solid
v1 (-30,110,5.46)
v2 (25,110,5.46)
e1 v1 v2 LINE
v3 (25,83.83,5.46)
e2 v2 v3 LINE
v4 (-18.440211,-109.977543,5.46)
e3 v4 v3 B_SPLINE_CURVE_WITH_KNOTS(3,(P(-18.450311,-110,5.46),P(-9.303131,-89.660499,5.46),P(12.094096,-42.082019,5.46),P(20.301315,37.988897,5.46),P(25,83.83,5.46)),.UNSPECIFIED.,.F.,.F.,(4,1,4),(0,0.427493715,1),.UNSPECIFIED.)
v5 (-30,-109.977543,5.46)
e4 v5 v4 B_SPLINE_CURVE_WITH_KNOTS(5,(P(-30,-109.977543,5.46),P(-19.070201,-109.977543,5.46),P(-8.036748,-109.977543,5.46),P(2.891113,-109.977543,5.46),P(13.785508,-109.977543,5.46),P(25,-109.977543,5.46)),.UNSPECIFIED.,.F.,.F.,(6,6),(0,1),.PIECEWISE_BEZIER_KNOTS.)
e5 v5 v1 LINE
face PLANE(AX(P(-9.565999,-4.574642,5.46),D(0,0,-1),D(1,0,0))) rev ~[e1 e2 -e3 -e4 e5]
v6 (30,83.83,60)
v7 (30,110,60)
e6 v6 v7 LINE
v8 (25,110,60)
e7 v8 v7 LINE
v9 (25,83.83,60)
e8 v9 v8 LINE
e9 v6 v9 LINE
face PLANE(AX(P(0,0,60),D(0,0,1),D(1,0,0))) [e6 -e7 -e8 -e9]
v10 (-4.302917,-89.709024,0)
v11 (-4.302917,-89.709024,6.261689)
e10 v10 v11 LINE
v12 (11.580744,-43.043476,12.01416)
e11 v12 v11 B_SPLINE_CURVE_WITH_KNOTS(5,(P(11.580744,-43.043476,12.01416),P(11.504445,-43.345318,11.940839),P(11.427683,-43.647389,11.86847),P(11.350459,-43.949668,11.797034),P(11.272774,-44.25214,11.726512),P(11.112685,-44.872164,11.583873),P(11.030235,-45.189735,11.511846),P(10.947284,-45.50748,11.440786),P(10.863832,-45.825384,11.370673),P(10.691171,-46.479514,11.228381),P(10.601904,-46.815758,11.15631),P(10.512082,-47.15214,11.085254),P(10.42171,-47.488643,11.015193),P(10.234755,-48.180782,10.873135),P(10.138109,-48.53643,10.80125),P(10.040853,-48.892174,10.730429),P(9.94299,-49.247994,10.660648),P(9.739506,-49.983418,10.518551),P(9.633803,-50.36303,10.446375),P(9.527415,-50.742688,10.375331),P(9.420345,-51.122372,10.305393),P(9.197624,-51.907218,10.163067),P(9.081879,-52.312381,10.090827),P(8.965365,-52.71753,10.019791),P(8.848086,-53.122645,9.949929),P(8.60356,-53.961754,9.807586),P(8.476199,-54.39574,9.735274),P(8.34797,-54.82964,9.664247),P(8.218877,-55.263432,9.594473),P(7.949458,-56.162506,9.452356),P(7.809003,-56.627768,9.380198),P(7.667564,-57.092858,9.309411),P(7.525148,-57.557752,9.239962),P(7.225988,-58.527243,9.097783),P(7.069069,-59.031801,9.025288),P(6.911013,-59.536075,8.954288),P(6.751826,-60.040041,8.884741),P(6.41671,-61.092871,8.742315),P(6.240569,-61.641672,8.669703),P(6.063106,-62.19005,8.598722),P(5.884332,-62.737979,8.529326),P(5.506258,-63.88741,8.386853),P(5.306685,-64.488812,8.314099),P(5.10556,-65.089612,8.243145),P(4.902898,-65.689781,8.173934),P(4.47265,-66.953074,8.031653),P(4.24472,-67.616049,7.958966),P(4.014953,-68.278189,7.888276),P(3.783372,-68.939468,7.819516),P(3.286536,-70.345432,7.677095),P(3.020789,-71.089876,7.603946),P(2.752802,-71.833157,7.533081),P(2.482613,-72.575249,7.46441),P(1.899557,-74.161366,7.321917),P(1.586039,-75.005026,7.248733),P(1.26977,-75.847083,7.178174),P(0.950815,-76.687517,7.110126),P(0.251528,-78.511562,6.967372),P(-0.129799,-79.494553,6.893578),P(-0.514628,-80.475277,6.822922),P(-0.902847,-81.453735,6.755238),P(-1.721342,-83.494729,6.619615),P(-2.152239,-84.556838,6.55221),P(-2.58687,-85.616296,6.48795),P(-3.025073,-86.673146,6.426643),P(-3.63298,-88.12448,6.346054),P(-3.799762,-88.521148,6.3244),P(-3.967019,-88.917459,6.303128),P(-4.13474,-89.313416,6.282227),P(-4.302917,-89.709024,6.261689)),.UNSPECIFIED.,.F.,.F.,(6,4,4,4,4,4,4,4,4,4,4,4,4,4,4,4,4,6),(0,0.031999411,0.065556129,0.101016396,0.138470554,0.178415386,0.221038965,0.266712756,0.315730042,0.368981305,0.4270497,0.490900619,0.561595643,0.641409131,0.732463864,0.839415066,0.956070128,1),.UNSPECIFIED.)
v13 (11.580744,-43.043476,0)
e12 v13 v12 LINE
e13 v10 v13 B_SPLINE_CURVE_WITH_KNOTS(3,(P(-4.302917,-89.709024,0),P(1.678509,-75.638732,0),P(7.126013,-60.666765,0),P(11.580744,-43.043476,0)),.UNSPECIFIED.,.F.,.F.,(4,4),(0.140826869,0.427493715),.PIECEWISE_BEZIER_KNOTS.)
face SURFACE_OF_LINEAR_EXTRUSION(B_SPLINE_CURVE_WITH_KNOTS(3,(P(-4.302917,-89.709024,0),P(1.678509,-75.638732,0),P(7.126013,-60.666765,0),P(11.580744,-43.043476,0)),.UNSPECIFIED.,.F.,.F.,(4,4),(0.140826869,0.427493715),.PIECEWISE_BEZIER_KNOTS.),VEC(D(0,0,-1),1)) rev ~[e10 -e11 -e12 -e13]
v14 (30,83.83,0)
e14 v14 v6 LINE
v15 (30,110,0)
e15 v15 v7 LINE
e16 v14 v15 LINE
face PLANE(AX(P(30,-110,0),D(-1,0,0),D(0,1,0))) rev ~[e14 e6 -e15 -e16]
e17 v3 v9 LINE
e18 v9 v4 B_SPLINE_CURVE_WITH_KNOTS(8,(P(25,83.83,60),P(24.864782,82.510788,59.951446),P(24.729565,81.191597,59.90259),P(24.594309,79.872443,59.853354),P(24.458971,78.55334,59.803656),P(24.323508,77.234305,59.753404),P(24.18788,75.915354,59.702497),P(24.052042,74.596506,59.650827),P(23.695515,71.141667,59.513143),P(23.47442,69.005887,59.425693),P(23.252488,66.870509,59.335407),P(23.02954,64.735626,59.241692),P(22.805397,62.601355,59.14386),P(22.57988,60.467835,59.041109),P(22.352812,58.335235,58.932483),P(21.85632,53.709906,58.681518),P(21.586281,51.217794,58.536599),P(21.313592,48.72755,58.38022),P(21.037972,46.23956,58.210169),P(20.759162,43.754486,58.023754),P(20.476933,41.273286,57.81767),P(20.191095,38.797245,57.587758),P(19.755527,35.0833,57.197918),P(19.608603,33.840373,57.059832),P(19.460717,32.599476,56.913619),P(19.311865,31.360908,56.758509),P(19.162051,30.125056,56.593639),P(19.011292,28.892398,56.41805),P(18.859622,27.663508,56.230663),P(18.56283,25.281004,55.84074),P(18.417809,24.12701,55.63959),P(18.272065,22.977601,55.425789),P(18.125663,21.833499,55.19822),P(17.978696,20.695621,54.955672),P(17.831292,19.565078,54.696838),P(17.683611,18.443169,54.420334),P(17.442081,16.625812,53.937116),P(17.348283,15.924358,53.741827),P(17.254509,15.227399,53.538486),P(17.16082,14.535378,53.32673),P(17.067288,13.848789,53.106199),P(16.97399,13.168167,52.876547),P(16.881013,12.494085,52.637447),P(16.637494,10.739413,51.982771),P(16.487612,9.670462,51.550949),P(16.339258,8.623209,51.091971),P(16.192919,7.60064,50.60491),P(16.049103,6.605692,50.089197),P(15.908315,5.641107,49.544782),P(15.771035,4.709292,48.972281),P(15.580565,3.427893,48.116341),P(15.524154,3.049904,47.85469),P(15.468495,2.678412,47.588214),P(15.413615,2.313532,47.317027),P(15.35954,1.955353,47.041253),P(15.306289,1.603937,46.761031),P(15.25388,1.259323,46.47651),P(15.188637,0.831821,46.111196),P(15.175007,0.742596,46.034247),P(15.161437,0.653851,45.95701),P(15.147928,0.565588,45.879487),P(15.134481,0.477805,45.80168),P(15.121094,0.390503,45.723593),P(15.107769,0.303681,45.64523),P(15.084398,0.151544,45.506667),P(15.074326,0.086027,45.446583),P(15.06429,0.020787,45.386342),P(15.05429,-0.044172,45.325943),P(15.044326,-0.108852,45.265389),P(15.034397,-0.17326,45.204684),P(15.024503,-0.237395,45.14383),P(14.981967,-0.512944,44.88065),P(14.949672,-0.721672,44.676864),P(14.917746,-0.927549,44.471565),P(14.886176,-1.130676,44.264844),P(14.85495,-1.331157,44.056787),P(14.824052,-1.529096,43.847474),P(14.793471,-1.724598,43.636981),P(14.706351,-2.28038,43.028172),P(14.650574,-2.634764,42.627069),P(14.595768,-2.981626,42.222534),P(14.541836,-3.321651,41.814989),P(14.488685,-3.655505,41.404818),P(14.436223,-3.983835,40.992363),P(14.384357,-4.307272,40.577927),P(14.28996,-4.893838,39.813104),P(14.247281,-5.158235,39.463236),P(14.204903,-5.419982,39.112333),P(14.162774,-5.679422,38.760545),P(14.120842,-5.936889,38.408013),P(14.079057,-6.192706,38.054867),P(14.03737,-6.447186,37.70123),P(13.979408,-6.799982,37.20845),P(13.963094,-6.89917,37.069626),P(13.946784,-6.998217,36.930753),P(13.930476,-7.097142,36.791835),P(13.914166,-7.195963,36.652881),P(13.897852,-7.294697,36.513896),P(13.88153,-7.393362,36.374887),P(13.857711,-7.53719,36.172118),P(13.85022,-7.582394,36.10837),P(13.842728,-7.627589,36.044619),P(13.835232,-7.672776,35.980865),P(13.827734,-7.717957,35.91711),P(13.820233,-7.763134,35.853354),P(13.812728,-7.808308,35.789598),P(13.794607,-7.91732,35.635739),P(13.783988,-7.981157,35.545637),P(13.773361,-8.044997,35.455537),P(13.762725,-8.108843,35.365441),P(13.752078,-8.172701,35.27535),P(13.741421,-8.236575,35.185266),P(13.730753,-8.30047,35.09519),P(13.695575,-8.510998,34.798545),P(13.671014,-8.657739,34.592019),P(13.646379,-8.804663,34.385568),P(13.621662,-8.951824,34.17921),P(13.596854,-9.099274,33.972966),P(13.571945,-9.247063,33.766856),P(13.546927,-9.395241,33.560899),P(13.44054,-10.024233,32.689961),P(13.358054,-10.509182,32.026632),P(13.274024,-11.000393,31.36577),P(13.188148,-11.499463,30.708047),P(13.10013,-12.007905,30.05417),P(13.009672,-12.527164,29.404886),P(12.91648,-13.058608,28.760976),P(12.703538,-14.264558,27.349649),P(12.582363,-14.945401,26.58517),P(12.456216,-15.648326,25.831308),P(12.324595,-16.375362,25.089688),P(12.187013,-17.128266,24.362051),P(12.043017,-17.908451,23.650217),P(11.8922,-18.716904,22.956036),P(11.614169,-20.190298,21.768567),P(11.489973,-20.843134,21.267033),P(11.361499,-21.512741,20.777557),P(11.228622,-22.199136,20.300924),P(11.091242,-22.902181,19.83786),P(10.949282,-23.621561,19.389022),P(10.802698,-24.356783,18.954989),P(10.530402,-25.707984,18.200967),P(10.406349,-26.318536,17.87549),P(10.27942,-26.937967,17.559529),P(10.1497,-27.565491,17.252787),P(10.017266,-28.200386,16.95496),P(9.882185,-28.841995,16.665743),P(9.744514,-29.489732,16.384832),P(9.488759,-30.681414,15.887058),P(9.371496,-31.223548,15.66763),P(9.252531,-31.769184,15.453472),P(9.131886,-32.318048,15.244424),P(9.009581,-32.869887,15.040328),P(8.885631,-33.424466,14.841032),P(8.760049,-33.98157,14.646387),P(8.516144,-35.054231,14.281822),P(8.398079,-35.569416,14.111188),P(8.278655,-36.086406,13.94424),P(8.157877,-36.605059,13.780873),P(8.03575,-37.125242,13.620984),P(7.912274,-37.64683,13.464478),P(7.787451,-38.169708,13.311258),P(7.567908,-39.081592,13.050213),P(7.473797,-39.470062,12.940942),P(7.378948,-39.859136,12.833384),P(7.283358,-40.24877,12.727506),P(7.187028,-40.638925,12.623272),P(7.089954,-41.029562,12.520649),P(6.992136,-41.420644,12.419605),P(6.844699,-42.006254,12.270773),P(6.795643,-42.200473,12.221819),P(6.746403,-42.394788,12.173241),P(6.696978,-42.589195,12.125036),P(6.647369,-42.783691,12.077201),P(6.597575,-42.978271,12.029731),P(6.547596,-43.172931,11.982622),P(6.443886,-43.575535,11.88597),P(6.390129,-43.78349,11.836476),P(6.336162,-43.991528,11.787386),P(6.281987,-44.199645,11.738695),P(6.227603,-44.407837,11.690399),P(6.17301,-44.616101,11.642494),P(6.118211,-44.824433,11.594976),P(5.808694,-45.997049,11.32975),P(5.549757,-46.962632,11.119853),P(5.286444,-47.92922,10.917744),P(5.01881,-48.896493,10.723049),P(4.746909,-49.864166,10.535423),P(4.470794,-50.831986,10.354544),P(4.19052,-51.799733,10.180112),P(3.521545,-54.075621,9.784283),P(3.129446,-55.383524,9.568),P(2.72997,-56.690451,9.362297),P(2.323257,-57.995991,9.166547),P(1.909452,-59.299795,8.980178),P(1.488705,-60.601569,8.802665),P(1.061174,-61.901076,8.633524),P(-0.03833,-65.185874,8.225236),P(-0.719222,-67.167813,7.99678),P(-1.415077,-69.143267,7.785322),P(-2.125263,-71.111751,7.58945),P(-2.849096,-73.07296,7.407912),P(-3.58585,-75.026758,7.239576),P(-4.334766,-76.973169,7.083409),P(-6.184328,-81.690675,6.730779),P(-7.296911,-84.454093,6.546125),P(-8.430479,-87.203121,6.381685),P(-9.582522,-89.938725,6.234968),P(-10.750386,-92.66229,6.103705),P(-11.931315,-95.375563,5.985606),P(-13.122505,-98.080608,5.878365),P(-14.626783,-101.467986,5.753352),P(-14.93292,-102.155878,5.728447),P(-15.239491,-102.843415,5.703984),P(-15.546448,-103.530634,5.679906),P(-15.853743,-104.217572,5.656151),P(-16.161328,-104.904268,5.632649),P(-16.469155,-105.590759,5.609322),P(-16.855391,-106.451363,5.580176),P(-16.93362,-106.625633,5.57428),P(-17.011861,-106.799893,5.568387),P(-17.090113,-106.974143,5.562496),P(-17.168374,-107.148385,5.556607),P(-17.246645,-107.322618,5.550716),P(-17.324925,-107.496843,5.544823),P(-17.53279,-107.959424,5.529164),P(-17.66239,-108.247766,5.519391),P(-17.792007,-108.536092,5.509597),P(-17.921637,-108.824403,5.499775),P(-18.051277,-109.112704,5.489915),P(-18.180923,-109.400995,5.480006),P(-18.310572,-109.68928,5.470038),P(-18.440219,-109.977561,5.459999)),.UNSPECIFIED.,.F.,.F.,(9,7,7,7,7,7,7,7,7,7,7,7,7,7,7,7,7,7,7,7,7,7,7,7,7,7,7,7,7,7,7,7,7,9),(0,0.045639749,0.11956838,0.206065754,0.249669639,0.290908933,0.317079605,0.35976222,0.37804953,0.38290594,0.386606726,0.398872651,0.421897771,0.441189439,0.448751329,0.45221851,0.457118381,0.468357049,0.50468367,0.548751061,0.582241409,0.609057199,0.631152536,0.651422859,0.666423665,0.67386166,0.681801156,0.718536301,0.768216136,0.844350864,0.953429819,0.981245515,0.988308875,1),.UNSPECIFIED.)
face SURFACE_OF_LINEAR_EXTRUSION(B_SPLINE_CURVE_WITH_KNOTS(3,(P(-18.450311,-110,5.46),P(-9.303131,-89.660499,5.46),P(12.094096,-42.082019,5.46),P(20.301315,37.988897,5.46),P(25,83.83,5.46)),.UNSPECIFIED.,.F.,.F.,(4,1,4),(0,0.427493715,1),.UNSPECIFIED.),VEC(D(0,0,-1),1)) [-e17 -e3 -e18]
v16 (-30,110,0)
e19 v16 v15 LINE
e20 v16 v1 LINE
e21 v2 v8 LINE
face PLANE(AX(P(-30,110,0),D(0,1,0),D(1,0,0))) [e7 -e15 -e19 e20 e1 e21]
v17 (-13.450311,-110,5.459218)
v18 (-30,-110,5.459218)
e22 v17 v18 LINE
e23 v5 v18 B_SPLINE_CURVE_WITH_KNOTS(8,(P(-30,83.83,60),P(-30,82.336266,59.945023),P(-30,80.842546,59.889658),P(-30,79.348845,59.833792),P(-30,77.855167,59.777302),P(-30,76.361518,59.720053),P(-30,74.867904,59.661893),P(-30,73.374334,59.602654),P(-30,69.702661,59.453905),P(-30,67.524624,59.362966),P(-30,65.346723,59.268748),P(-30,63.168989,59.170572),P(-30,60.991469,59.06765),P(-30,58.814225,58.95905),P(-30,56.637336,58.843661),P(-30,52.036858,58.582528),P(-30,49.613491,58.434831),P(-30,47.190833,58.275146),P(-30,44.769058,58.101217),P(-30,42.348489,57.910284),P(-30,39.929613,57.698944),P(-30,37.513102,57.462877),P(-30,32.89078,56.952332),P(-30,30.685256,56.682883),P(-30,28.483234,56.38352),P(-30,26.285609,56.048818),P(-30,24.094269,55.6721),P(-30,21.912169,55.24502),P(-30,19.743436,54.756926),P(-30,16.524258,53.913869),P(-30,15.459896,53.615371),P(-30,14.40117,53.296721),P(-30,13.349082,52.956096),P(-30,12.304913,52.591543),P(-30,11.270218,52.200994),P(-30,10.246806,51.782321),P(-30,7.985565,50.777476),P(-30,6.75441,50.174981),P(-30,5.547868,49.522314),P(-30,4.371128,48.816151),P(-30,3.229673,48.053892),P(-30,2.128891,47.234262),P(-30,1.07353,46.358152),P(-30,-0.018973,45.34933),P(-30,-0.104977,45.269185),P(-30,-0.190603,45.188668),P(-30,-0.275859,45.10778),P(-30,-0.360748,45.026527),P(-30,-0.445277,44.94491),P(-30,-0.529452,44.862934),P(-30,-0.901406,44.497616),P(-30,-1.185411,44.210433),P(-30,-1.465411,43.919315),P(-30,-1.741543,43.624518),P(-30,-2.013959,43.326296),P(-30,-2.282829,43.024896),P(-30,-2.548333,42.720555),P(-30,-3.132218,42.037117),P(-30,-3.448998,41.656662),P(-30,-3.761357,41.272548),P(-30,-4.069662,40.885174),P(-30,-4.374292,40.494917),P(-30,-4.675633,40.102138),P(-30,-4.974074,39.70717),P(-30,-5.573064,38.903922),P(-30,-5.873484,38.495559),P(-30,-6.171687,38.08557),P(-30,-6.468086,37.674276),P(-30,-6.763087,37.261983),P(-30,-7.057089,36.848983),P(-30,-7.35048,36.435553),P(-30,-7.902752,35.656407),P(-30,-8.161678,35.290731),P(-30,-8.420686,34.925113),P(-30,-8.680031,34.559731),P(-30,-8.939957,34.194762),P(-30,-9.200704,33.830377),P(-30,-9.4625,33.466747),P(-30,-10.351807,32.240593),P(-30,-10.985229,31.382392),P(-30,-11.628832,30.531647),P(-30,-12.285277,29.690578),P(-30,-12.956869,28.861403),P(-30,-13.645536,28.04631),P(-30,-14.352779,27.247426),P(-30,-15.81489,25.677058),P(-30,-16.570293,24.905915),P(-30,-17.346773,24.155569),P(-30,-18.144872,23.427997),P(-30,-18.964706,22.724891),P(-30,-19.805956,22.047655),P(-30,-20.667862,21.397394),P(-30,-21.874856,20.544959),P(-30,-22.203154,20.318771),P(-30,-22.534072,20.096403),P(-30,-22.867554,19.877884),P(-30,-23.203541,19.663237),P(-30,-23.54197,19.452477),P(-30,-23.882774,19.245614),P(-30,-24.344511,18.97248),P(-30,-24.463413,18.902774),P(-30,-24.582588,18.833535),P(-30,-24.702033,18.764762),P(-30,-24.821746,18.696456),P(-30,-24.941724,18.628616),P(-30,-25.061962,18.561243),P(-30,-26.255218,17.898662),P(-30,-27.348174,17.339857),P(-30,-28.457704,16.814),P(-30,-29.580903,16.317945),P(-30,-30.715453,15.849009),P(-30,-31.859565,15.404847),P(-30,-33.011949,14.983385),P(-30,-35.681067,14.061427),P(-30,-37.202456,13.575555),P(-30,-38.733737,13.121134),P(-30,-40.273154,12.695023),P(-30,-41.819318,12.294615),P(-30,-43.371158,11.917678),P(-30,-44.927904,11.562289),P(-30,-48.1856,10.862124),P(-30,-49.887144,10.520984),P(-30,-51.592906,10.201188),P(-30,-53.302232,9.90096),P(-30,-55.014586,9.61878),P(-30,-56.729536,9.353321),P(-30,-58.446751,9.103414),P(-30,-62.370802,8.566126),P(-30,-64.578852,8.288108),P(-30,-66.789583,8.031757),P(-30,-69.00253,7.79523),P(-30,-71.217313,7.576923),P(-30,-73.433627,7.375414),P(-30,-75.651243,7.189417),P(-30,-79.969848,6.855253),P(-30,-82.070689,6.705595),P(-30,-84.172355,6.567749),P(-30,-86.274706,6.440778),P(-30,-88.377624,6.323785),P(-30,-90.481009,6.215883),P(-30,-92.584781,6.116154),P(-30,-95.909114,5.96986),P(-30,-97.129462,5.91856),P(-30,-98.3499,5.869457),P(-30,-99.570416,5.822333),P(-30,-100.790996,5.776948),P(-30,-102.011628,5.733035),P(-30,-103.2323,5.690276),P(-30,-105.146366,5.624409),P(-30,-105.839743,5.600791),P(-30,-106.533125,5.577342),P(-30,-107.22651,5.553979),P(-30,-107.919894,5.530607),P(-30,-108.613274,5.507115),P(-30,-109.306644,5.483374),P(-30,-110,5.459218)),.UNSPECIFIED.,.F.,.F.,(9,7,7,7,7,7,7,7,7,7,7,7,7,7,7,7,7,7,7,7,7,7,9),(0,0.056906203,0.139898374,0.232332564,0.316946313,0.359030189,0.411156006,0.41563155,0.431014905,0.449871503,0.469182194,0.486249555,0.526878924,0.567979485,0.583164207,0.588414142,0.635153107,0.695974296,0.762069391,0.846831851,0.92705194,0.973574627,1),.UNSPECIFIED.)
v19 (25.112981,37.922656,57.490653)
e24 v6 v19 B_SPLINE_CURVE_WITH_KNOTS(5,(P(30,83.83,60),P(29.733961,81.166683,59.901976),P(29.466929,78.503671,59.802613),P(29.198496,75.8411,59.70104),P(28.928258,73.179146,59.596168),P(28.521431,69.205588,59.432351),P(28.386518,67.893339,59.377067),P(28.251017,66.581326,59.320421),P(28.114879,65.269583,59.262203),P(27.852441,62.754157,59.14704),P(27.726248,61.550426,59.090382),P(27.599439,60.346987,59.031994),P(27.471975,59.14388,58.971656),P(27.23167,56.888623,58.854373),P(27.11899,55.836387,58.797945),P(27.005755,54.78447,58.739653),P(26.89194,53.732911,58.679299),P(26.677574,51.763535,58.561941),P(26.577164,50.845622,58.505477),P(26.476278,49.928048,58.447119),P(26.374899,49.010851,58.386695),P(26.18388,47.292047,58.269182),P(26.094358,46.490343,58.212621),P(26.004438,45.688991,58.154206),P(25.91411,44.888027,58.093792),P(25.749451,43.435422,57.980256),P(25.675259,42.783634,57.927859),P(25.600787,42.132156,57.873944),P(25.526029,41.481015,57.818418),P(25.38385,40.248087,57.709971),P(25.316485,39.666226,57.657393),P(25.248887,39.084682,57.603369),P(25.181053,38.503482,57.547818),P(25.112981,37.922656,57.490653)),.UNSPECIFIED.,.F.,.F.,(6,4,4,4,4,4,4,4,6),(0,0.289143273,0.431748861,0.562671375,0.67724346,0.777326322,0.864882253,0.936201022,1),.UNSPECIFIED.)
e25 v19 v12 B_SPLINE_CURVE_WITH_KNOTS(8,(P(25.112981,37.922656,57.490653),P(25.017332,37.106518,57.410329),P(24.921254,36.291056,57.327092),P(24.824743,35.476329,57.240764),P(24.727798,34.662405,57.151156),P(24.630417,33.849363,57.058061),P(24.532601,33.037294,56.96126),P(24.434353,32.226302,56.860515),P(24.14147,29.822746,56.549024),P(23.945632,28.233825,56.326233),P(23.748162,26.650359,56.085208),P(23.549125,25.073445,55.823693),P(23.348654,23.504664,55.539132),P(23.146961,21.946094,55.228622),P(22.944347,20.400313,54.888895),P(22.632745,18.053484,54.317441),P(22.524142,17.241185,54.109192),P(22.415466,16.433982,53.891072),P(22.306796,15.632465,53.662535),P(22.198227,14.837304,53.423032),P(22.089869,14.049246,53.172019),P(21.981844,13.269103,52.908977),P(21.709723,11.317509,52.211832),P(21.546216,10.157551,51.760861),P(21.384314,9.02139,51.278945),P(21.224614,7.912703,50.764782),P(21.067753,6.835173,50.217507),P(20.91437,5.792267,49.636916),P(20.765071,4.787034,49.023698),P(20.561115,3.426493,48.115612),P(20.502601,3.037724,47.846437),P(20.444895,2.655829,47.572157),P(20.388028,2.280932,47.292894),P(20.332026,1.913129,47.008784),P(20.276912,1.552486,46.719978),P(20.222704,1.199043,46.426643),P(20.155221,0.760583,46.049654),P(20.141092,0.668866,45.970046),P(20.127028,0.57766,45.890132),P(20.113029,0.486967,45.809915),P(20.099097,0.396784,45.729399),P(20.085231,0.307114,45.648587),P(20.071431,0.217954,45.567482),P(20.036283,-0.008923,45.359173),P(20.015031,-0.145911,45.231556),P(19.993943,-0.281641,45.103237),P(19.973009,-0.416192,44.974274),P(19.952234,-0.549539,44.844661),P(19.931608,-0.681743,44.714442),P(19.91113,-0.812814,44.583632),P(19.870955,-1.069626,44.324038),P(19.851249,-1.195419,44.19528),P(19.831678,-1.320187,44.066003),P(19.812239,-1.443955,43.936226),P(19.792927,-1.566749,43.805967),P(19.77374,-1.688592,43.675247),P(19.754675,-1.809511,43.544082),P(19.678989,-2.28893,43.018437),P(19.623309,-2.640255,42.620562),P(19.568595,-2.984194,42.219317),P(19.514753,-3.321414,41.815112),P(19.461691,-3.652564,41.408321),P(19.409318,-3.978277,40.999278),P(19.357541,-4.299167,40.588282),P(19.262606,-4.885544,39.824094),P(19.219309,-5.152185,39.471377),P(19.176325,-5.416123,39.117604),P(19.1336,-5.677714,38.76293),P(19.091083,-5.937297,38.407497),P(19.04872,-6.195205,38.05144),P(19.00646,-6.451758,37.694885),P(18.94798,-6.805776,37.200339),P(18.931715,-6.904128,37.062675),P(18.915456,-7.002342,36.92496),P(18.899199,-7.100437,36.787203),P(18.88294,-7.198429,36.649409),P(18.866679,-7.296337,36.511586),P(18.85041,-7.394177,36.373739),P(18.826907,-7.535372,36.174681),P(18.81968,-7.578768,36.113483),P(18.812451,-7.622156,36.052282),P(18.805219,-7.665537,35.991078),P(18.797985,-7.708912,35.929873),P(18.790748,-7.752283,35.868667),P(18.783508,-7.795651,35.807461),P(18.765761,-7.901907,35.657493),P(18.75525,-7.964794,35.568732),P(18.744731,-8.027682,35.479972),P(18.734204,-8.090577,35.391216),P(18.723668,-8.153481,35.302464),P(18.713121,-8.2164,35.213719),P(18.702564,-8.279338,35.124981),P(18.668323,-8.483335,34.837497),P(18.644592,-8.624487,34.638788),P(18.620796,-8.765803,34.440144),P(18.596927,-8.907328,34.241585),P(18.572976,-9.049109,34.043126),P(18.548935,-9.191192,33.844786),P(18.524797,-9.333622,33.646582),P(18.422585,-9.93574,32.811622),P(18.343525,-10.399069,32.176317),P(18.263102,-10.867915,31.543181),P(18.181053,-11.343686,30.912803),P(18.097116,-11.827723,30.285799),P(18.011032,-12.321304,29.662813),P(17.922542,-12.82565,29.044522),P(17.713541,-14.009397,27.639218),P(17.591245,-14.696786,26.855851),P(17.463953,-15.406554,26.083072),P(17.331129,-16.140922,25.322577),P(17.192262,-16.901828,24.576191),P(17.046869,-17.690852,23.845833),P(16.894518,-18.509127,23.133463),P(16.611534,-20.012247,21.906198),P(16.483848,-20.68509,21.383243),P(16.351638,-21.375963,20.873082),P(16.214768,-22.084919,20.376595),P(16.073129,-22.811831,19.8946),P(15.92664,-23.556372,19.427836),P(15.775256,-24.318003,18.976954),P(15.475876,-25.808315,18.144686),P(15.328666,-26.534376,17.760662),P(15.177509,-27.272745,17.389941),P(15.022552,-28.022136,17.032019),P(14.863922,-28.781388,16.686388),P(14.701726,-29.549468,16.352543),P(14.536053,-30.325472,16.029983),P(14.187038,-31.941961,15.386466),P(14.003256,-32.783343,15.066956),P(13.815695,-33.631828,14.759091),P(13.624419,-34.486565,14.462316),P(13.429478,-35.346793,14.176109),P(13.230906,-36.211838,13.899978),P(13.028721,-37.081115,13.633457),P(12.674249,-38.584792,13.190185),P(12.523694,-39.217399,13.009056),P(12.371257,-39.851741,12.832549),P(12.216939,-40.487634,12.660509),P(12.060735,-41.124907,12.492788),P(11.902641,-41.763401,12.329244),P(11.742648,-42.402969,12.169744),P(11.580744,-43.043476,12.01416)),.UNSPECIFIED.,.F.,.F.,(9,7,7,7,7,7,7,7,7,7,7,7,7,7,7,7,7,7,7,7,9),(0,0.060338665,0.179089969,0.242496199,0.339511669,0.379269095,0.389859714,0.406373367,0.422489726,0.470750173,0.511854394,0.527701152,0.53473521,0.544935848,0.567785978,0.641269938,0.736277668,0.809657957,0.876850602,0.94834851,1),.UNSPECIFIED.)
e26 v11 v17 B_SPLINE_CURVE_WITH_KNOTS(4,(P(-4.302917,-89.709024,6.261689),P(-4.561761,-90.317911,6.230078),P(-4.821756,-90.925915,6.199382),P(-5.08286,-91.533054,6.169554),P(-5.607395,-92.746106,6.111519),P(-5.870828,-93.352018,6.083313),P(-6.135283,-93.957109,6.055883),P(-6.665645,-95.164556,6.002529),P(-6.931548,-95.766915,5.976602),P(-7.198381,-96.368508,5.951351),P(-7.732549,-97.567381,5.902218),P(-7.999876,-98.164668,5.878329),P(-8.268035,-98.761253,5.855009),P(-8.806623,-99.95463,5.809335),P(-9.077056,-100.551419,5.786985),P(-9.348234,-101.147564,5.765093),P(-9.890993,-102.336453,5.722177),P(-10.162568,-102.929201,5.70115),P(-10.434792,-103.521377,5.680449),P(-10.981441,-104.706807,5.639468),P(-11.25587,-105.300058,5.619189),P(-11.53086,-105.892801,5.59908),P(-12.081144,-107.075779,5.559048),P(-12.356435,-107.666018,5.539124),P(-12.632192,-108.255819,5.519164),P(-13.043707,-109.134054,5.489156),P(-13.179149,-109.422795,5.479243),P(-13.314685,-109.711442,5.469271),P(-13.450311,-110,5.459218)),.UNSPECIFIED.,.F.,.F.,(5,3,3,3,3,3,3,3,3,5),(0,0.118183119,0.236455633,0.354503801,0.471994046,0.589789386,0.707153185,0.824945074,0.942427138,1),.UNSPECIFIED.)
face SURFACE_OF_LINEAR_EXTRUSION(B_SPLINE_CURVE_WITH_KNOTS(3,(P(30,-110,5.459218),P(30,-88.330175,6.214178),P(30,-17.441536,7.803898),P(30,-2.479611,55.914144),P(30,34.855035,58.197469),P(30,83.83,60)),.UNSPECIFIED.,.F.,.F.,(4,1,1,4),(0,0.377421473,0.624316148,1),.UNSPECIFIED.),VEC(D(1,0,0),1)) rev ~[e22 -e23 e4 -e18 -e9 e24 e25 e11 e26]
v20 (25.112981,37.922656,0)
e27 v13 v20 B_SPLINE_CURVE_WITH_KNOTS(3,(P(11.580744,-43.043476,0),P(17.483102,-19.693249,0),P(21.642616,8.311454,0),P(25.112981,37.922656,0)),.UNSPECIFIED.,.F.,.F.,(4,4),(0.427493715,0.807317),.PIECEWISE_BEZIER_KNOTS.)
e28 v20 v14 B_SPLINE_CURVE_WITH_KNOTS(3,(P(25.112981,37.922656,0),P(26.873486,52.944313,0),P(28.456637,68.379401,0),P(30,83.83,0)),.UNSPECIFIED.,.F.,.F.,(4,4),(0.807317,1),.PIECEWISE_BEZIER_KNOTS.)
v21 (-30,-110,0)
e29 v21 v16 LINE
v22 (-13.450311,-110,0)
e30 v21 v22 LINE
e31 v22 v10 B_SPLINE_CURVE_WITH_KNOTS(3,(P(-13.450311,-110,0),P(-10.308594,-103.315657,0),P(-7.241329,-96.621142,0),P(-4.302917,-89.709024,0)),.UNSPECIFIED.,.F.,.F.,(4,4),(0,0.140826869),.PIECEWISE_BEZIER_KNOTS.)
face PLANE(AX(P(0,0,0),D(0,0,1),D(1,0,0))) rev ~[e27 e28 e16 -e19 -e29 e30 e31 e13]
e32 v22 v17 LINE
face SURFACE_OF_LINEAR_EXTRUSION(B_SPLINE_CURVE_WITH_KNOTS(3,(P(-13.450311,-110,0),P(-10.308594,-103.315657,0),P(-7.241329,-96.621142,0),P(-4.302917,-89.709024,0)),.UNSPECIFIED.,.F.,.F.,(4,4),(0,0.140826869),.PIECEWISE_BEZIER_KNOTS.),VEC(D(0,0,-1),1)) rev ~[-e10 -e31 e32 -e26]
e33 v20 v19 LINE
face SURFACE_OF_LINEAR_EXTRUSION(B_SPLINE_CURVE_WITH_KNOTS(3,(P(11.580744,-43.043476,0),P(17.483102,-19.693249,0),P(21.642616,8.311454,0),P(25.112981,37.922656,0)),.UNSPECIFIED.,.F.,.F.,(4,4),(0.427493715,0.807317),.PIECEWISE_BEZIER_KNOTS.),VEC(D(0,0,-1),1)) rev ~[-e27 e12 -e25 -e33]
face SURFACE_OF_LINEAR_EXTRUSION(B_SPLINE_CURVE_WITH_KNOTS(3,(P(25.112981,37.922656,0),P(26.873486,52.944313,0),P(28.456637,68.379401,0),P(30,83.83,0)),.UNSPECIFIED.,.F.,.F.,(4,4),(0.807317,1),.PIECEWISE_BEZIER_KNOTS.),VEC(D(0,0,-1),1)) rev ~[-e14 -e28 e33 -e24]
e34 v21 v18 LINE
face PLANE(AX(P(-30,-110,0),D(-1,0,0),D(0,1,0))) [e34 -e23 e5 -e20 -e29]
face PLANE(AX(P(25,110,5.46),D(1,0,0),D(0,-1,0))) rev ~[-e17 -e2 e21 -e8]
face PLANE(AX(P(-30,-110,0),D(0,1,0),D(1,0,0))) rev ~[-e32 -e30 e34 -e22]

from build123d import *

# Parameters (mm, degrees)
F0_W     = 60
F0_H     = 220
F1_DEPTH = 60
F3_DEPTH = 60.001
F5_DEPTH = 60.0010001
F6_START = -5.46
F4_W     = 55
F4_H     = 26.17
F6_DEPTH = 74.54


with BuildPart() as f1:
    # F0 (on Top) → F1 (new body)
    with BuildSketch(Plane.XY):
        Rectangle(F0_W, F0_H)
    extrude(amount=F1_DEPTH)

    # F2 (on face) → F3 (cut, through all)
    with BuildSketch(Plane.YZ.offset(30)):
        with BuildLine():
            Line((-110, 60), (-110, 5.4592178203))
            add(Edge.make_bspline(
                [(-110, 5.4592178203), (-88.3301750343, 6.2141776062), (-17.4415363661, 7.8038979975), (-2.4796110185, 55.9141440318), (34.855034512, 58.1974692918), (83.83, 60)],
                knots=[0, 0, 0, 0, 0.3774214734, 0.6243161477, 1, 1, 1, 1], degree=3))
            Line((83.83, 60), (-110, 60))
        make_face()
    extrude(amount=-F3_DEPTH, mode=Mode.SUBTRACT)

    # F4 (on face) → F5 (cut, through all)
    with BuildSketch(Plane(origin=(0, 0, 0), x_dir=(1, 0, 0), z_dir=(0, 0, -1))):
        with BuildLine():
            add(Edge.make_bspline(
                [(25.1129814899, -37.9226556811), (26.8734855483, -52.9443126868), (28.4566374792, -68.3794013283), (30, -83.83)],
                knots=[0.8073169996, 0.8073169996, 0.8073169996, 0.8073169996, 1, 1, 1, 1], degree=3))
            Line((30, -83.83), (30, 110))
            Line((30, 110), (-13.4503107729, 110))
            add(Edge.make_bspline(
                [(-13.4503107729, 110), (-10.3085935059, 103.3156568841), (-7.2413287965, 96.6211419831), (-4.3029165498, 89.709023616)],
                knots=[0, 0, 0, 0, 0.1408268689, 0.1408268689, 0.1408268689, 0.1408268689], degree=3))
            add(Edge.make_bspline(
                [(-4.3029165498, 89.709023616), (1.6785085714, 75.6387315772), (7.1260131715, 60.666765223), (11.5807438269, 43.0434755981)],
                knots=[0.1408268689, 0.1408268689, 0.1408268689, 0.1408268689, 0.4274937151, 0.4274937151, 0.4274937151, 0.4274937151], degree=3))
            add(Edge.make_bspline(
                [(11.5807438269, 43.0434755981), (17.4831020937, 19.6932492321), (21.6426160071, -8.3114544361), (25.1129814899, -37.9226556811)],
                knots=[0.4274937151, 0.4274937151, 0.4274937151, 0.4274937151, 0.8073169996, 0.8073169996, 0.8073169996, 0.8073169996], degree=3))
        make_face()
    extrude(amount=-F5_DEPTH, mode=Mode.SUBTRACT)

    # F4 (on face) → F6 (cut)
    with BuildSketch(Plane(origin=(0, 0, 0), x_dir=(1, 0, 0), z_dir=(0, 0, -1)).offset(F6_START)):
        with BuildLine():
            Line((-30, -83.83), (25, -83.83))
            add(Edge.make_bspline(
                [(6.5807438269, 43.0434755981), (15.6026307937, 7.8522057541), (20.3013153969, -37.988897123), (25, -83.83)],
                knots=[0.4274937151, 0.4274937151, 0.4274937151, 0.4274937151, 1, 1, 1, 1], degree=3))
            add(Edge.make_bspline(
                [(-18.4503107729, 110), (-9.3031307537, 89.6604989609), (-0.1559507346, 69.3209979217), (6.5807438269, 43.0434755981)],
                knots=[0, 0, 0, 0, 0.4274937151, 0.4274937151, 0.4274937151, 0.4274937151], degree=3))
            Line((-18.4503107729, 110), (-30, 110))
            Line((-30, 110), (-30, -83.83))
        make_face()
        with Locations((-2.5, -96.915)):
            Rectangle(F4_W, F4_H)
    extrude(amount=-F6_DEPTH, mode=Mode.SUBTRACT)


solid = f1.part
